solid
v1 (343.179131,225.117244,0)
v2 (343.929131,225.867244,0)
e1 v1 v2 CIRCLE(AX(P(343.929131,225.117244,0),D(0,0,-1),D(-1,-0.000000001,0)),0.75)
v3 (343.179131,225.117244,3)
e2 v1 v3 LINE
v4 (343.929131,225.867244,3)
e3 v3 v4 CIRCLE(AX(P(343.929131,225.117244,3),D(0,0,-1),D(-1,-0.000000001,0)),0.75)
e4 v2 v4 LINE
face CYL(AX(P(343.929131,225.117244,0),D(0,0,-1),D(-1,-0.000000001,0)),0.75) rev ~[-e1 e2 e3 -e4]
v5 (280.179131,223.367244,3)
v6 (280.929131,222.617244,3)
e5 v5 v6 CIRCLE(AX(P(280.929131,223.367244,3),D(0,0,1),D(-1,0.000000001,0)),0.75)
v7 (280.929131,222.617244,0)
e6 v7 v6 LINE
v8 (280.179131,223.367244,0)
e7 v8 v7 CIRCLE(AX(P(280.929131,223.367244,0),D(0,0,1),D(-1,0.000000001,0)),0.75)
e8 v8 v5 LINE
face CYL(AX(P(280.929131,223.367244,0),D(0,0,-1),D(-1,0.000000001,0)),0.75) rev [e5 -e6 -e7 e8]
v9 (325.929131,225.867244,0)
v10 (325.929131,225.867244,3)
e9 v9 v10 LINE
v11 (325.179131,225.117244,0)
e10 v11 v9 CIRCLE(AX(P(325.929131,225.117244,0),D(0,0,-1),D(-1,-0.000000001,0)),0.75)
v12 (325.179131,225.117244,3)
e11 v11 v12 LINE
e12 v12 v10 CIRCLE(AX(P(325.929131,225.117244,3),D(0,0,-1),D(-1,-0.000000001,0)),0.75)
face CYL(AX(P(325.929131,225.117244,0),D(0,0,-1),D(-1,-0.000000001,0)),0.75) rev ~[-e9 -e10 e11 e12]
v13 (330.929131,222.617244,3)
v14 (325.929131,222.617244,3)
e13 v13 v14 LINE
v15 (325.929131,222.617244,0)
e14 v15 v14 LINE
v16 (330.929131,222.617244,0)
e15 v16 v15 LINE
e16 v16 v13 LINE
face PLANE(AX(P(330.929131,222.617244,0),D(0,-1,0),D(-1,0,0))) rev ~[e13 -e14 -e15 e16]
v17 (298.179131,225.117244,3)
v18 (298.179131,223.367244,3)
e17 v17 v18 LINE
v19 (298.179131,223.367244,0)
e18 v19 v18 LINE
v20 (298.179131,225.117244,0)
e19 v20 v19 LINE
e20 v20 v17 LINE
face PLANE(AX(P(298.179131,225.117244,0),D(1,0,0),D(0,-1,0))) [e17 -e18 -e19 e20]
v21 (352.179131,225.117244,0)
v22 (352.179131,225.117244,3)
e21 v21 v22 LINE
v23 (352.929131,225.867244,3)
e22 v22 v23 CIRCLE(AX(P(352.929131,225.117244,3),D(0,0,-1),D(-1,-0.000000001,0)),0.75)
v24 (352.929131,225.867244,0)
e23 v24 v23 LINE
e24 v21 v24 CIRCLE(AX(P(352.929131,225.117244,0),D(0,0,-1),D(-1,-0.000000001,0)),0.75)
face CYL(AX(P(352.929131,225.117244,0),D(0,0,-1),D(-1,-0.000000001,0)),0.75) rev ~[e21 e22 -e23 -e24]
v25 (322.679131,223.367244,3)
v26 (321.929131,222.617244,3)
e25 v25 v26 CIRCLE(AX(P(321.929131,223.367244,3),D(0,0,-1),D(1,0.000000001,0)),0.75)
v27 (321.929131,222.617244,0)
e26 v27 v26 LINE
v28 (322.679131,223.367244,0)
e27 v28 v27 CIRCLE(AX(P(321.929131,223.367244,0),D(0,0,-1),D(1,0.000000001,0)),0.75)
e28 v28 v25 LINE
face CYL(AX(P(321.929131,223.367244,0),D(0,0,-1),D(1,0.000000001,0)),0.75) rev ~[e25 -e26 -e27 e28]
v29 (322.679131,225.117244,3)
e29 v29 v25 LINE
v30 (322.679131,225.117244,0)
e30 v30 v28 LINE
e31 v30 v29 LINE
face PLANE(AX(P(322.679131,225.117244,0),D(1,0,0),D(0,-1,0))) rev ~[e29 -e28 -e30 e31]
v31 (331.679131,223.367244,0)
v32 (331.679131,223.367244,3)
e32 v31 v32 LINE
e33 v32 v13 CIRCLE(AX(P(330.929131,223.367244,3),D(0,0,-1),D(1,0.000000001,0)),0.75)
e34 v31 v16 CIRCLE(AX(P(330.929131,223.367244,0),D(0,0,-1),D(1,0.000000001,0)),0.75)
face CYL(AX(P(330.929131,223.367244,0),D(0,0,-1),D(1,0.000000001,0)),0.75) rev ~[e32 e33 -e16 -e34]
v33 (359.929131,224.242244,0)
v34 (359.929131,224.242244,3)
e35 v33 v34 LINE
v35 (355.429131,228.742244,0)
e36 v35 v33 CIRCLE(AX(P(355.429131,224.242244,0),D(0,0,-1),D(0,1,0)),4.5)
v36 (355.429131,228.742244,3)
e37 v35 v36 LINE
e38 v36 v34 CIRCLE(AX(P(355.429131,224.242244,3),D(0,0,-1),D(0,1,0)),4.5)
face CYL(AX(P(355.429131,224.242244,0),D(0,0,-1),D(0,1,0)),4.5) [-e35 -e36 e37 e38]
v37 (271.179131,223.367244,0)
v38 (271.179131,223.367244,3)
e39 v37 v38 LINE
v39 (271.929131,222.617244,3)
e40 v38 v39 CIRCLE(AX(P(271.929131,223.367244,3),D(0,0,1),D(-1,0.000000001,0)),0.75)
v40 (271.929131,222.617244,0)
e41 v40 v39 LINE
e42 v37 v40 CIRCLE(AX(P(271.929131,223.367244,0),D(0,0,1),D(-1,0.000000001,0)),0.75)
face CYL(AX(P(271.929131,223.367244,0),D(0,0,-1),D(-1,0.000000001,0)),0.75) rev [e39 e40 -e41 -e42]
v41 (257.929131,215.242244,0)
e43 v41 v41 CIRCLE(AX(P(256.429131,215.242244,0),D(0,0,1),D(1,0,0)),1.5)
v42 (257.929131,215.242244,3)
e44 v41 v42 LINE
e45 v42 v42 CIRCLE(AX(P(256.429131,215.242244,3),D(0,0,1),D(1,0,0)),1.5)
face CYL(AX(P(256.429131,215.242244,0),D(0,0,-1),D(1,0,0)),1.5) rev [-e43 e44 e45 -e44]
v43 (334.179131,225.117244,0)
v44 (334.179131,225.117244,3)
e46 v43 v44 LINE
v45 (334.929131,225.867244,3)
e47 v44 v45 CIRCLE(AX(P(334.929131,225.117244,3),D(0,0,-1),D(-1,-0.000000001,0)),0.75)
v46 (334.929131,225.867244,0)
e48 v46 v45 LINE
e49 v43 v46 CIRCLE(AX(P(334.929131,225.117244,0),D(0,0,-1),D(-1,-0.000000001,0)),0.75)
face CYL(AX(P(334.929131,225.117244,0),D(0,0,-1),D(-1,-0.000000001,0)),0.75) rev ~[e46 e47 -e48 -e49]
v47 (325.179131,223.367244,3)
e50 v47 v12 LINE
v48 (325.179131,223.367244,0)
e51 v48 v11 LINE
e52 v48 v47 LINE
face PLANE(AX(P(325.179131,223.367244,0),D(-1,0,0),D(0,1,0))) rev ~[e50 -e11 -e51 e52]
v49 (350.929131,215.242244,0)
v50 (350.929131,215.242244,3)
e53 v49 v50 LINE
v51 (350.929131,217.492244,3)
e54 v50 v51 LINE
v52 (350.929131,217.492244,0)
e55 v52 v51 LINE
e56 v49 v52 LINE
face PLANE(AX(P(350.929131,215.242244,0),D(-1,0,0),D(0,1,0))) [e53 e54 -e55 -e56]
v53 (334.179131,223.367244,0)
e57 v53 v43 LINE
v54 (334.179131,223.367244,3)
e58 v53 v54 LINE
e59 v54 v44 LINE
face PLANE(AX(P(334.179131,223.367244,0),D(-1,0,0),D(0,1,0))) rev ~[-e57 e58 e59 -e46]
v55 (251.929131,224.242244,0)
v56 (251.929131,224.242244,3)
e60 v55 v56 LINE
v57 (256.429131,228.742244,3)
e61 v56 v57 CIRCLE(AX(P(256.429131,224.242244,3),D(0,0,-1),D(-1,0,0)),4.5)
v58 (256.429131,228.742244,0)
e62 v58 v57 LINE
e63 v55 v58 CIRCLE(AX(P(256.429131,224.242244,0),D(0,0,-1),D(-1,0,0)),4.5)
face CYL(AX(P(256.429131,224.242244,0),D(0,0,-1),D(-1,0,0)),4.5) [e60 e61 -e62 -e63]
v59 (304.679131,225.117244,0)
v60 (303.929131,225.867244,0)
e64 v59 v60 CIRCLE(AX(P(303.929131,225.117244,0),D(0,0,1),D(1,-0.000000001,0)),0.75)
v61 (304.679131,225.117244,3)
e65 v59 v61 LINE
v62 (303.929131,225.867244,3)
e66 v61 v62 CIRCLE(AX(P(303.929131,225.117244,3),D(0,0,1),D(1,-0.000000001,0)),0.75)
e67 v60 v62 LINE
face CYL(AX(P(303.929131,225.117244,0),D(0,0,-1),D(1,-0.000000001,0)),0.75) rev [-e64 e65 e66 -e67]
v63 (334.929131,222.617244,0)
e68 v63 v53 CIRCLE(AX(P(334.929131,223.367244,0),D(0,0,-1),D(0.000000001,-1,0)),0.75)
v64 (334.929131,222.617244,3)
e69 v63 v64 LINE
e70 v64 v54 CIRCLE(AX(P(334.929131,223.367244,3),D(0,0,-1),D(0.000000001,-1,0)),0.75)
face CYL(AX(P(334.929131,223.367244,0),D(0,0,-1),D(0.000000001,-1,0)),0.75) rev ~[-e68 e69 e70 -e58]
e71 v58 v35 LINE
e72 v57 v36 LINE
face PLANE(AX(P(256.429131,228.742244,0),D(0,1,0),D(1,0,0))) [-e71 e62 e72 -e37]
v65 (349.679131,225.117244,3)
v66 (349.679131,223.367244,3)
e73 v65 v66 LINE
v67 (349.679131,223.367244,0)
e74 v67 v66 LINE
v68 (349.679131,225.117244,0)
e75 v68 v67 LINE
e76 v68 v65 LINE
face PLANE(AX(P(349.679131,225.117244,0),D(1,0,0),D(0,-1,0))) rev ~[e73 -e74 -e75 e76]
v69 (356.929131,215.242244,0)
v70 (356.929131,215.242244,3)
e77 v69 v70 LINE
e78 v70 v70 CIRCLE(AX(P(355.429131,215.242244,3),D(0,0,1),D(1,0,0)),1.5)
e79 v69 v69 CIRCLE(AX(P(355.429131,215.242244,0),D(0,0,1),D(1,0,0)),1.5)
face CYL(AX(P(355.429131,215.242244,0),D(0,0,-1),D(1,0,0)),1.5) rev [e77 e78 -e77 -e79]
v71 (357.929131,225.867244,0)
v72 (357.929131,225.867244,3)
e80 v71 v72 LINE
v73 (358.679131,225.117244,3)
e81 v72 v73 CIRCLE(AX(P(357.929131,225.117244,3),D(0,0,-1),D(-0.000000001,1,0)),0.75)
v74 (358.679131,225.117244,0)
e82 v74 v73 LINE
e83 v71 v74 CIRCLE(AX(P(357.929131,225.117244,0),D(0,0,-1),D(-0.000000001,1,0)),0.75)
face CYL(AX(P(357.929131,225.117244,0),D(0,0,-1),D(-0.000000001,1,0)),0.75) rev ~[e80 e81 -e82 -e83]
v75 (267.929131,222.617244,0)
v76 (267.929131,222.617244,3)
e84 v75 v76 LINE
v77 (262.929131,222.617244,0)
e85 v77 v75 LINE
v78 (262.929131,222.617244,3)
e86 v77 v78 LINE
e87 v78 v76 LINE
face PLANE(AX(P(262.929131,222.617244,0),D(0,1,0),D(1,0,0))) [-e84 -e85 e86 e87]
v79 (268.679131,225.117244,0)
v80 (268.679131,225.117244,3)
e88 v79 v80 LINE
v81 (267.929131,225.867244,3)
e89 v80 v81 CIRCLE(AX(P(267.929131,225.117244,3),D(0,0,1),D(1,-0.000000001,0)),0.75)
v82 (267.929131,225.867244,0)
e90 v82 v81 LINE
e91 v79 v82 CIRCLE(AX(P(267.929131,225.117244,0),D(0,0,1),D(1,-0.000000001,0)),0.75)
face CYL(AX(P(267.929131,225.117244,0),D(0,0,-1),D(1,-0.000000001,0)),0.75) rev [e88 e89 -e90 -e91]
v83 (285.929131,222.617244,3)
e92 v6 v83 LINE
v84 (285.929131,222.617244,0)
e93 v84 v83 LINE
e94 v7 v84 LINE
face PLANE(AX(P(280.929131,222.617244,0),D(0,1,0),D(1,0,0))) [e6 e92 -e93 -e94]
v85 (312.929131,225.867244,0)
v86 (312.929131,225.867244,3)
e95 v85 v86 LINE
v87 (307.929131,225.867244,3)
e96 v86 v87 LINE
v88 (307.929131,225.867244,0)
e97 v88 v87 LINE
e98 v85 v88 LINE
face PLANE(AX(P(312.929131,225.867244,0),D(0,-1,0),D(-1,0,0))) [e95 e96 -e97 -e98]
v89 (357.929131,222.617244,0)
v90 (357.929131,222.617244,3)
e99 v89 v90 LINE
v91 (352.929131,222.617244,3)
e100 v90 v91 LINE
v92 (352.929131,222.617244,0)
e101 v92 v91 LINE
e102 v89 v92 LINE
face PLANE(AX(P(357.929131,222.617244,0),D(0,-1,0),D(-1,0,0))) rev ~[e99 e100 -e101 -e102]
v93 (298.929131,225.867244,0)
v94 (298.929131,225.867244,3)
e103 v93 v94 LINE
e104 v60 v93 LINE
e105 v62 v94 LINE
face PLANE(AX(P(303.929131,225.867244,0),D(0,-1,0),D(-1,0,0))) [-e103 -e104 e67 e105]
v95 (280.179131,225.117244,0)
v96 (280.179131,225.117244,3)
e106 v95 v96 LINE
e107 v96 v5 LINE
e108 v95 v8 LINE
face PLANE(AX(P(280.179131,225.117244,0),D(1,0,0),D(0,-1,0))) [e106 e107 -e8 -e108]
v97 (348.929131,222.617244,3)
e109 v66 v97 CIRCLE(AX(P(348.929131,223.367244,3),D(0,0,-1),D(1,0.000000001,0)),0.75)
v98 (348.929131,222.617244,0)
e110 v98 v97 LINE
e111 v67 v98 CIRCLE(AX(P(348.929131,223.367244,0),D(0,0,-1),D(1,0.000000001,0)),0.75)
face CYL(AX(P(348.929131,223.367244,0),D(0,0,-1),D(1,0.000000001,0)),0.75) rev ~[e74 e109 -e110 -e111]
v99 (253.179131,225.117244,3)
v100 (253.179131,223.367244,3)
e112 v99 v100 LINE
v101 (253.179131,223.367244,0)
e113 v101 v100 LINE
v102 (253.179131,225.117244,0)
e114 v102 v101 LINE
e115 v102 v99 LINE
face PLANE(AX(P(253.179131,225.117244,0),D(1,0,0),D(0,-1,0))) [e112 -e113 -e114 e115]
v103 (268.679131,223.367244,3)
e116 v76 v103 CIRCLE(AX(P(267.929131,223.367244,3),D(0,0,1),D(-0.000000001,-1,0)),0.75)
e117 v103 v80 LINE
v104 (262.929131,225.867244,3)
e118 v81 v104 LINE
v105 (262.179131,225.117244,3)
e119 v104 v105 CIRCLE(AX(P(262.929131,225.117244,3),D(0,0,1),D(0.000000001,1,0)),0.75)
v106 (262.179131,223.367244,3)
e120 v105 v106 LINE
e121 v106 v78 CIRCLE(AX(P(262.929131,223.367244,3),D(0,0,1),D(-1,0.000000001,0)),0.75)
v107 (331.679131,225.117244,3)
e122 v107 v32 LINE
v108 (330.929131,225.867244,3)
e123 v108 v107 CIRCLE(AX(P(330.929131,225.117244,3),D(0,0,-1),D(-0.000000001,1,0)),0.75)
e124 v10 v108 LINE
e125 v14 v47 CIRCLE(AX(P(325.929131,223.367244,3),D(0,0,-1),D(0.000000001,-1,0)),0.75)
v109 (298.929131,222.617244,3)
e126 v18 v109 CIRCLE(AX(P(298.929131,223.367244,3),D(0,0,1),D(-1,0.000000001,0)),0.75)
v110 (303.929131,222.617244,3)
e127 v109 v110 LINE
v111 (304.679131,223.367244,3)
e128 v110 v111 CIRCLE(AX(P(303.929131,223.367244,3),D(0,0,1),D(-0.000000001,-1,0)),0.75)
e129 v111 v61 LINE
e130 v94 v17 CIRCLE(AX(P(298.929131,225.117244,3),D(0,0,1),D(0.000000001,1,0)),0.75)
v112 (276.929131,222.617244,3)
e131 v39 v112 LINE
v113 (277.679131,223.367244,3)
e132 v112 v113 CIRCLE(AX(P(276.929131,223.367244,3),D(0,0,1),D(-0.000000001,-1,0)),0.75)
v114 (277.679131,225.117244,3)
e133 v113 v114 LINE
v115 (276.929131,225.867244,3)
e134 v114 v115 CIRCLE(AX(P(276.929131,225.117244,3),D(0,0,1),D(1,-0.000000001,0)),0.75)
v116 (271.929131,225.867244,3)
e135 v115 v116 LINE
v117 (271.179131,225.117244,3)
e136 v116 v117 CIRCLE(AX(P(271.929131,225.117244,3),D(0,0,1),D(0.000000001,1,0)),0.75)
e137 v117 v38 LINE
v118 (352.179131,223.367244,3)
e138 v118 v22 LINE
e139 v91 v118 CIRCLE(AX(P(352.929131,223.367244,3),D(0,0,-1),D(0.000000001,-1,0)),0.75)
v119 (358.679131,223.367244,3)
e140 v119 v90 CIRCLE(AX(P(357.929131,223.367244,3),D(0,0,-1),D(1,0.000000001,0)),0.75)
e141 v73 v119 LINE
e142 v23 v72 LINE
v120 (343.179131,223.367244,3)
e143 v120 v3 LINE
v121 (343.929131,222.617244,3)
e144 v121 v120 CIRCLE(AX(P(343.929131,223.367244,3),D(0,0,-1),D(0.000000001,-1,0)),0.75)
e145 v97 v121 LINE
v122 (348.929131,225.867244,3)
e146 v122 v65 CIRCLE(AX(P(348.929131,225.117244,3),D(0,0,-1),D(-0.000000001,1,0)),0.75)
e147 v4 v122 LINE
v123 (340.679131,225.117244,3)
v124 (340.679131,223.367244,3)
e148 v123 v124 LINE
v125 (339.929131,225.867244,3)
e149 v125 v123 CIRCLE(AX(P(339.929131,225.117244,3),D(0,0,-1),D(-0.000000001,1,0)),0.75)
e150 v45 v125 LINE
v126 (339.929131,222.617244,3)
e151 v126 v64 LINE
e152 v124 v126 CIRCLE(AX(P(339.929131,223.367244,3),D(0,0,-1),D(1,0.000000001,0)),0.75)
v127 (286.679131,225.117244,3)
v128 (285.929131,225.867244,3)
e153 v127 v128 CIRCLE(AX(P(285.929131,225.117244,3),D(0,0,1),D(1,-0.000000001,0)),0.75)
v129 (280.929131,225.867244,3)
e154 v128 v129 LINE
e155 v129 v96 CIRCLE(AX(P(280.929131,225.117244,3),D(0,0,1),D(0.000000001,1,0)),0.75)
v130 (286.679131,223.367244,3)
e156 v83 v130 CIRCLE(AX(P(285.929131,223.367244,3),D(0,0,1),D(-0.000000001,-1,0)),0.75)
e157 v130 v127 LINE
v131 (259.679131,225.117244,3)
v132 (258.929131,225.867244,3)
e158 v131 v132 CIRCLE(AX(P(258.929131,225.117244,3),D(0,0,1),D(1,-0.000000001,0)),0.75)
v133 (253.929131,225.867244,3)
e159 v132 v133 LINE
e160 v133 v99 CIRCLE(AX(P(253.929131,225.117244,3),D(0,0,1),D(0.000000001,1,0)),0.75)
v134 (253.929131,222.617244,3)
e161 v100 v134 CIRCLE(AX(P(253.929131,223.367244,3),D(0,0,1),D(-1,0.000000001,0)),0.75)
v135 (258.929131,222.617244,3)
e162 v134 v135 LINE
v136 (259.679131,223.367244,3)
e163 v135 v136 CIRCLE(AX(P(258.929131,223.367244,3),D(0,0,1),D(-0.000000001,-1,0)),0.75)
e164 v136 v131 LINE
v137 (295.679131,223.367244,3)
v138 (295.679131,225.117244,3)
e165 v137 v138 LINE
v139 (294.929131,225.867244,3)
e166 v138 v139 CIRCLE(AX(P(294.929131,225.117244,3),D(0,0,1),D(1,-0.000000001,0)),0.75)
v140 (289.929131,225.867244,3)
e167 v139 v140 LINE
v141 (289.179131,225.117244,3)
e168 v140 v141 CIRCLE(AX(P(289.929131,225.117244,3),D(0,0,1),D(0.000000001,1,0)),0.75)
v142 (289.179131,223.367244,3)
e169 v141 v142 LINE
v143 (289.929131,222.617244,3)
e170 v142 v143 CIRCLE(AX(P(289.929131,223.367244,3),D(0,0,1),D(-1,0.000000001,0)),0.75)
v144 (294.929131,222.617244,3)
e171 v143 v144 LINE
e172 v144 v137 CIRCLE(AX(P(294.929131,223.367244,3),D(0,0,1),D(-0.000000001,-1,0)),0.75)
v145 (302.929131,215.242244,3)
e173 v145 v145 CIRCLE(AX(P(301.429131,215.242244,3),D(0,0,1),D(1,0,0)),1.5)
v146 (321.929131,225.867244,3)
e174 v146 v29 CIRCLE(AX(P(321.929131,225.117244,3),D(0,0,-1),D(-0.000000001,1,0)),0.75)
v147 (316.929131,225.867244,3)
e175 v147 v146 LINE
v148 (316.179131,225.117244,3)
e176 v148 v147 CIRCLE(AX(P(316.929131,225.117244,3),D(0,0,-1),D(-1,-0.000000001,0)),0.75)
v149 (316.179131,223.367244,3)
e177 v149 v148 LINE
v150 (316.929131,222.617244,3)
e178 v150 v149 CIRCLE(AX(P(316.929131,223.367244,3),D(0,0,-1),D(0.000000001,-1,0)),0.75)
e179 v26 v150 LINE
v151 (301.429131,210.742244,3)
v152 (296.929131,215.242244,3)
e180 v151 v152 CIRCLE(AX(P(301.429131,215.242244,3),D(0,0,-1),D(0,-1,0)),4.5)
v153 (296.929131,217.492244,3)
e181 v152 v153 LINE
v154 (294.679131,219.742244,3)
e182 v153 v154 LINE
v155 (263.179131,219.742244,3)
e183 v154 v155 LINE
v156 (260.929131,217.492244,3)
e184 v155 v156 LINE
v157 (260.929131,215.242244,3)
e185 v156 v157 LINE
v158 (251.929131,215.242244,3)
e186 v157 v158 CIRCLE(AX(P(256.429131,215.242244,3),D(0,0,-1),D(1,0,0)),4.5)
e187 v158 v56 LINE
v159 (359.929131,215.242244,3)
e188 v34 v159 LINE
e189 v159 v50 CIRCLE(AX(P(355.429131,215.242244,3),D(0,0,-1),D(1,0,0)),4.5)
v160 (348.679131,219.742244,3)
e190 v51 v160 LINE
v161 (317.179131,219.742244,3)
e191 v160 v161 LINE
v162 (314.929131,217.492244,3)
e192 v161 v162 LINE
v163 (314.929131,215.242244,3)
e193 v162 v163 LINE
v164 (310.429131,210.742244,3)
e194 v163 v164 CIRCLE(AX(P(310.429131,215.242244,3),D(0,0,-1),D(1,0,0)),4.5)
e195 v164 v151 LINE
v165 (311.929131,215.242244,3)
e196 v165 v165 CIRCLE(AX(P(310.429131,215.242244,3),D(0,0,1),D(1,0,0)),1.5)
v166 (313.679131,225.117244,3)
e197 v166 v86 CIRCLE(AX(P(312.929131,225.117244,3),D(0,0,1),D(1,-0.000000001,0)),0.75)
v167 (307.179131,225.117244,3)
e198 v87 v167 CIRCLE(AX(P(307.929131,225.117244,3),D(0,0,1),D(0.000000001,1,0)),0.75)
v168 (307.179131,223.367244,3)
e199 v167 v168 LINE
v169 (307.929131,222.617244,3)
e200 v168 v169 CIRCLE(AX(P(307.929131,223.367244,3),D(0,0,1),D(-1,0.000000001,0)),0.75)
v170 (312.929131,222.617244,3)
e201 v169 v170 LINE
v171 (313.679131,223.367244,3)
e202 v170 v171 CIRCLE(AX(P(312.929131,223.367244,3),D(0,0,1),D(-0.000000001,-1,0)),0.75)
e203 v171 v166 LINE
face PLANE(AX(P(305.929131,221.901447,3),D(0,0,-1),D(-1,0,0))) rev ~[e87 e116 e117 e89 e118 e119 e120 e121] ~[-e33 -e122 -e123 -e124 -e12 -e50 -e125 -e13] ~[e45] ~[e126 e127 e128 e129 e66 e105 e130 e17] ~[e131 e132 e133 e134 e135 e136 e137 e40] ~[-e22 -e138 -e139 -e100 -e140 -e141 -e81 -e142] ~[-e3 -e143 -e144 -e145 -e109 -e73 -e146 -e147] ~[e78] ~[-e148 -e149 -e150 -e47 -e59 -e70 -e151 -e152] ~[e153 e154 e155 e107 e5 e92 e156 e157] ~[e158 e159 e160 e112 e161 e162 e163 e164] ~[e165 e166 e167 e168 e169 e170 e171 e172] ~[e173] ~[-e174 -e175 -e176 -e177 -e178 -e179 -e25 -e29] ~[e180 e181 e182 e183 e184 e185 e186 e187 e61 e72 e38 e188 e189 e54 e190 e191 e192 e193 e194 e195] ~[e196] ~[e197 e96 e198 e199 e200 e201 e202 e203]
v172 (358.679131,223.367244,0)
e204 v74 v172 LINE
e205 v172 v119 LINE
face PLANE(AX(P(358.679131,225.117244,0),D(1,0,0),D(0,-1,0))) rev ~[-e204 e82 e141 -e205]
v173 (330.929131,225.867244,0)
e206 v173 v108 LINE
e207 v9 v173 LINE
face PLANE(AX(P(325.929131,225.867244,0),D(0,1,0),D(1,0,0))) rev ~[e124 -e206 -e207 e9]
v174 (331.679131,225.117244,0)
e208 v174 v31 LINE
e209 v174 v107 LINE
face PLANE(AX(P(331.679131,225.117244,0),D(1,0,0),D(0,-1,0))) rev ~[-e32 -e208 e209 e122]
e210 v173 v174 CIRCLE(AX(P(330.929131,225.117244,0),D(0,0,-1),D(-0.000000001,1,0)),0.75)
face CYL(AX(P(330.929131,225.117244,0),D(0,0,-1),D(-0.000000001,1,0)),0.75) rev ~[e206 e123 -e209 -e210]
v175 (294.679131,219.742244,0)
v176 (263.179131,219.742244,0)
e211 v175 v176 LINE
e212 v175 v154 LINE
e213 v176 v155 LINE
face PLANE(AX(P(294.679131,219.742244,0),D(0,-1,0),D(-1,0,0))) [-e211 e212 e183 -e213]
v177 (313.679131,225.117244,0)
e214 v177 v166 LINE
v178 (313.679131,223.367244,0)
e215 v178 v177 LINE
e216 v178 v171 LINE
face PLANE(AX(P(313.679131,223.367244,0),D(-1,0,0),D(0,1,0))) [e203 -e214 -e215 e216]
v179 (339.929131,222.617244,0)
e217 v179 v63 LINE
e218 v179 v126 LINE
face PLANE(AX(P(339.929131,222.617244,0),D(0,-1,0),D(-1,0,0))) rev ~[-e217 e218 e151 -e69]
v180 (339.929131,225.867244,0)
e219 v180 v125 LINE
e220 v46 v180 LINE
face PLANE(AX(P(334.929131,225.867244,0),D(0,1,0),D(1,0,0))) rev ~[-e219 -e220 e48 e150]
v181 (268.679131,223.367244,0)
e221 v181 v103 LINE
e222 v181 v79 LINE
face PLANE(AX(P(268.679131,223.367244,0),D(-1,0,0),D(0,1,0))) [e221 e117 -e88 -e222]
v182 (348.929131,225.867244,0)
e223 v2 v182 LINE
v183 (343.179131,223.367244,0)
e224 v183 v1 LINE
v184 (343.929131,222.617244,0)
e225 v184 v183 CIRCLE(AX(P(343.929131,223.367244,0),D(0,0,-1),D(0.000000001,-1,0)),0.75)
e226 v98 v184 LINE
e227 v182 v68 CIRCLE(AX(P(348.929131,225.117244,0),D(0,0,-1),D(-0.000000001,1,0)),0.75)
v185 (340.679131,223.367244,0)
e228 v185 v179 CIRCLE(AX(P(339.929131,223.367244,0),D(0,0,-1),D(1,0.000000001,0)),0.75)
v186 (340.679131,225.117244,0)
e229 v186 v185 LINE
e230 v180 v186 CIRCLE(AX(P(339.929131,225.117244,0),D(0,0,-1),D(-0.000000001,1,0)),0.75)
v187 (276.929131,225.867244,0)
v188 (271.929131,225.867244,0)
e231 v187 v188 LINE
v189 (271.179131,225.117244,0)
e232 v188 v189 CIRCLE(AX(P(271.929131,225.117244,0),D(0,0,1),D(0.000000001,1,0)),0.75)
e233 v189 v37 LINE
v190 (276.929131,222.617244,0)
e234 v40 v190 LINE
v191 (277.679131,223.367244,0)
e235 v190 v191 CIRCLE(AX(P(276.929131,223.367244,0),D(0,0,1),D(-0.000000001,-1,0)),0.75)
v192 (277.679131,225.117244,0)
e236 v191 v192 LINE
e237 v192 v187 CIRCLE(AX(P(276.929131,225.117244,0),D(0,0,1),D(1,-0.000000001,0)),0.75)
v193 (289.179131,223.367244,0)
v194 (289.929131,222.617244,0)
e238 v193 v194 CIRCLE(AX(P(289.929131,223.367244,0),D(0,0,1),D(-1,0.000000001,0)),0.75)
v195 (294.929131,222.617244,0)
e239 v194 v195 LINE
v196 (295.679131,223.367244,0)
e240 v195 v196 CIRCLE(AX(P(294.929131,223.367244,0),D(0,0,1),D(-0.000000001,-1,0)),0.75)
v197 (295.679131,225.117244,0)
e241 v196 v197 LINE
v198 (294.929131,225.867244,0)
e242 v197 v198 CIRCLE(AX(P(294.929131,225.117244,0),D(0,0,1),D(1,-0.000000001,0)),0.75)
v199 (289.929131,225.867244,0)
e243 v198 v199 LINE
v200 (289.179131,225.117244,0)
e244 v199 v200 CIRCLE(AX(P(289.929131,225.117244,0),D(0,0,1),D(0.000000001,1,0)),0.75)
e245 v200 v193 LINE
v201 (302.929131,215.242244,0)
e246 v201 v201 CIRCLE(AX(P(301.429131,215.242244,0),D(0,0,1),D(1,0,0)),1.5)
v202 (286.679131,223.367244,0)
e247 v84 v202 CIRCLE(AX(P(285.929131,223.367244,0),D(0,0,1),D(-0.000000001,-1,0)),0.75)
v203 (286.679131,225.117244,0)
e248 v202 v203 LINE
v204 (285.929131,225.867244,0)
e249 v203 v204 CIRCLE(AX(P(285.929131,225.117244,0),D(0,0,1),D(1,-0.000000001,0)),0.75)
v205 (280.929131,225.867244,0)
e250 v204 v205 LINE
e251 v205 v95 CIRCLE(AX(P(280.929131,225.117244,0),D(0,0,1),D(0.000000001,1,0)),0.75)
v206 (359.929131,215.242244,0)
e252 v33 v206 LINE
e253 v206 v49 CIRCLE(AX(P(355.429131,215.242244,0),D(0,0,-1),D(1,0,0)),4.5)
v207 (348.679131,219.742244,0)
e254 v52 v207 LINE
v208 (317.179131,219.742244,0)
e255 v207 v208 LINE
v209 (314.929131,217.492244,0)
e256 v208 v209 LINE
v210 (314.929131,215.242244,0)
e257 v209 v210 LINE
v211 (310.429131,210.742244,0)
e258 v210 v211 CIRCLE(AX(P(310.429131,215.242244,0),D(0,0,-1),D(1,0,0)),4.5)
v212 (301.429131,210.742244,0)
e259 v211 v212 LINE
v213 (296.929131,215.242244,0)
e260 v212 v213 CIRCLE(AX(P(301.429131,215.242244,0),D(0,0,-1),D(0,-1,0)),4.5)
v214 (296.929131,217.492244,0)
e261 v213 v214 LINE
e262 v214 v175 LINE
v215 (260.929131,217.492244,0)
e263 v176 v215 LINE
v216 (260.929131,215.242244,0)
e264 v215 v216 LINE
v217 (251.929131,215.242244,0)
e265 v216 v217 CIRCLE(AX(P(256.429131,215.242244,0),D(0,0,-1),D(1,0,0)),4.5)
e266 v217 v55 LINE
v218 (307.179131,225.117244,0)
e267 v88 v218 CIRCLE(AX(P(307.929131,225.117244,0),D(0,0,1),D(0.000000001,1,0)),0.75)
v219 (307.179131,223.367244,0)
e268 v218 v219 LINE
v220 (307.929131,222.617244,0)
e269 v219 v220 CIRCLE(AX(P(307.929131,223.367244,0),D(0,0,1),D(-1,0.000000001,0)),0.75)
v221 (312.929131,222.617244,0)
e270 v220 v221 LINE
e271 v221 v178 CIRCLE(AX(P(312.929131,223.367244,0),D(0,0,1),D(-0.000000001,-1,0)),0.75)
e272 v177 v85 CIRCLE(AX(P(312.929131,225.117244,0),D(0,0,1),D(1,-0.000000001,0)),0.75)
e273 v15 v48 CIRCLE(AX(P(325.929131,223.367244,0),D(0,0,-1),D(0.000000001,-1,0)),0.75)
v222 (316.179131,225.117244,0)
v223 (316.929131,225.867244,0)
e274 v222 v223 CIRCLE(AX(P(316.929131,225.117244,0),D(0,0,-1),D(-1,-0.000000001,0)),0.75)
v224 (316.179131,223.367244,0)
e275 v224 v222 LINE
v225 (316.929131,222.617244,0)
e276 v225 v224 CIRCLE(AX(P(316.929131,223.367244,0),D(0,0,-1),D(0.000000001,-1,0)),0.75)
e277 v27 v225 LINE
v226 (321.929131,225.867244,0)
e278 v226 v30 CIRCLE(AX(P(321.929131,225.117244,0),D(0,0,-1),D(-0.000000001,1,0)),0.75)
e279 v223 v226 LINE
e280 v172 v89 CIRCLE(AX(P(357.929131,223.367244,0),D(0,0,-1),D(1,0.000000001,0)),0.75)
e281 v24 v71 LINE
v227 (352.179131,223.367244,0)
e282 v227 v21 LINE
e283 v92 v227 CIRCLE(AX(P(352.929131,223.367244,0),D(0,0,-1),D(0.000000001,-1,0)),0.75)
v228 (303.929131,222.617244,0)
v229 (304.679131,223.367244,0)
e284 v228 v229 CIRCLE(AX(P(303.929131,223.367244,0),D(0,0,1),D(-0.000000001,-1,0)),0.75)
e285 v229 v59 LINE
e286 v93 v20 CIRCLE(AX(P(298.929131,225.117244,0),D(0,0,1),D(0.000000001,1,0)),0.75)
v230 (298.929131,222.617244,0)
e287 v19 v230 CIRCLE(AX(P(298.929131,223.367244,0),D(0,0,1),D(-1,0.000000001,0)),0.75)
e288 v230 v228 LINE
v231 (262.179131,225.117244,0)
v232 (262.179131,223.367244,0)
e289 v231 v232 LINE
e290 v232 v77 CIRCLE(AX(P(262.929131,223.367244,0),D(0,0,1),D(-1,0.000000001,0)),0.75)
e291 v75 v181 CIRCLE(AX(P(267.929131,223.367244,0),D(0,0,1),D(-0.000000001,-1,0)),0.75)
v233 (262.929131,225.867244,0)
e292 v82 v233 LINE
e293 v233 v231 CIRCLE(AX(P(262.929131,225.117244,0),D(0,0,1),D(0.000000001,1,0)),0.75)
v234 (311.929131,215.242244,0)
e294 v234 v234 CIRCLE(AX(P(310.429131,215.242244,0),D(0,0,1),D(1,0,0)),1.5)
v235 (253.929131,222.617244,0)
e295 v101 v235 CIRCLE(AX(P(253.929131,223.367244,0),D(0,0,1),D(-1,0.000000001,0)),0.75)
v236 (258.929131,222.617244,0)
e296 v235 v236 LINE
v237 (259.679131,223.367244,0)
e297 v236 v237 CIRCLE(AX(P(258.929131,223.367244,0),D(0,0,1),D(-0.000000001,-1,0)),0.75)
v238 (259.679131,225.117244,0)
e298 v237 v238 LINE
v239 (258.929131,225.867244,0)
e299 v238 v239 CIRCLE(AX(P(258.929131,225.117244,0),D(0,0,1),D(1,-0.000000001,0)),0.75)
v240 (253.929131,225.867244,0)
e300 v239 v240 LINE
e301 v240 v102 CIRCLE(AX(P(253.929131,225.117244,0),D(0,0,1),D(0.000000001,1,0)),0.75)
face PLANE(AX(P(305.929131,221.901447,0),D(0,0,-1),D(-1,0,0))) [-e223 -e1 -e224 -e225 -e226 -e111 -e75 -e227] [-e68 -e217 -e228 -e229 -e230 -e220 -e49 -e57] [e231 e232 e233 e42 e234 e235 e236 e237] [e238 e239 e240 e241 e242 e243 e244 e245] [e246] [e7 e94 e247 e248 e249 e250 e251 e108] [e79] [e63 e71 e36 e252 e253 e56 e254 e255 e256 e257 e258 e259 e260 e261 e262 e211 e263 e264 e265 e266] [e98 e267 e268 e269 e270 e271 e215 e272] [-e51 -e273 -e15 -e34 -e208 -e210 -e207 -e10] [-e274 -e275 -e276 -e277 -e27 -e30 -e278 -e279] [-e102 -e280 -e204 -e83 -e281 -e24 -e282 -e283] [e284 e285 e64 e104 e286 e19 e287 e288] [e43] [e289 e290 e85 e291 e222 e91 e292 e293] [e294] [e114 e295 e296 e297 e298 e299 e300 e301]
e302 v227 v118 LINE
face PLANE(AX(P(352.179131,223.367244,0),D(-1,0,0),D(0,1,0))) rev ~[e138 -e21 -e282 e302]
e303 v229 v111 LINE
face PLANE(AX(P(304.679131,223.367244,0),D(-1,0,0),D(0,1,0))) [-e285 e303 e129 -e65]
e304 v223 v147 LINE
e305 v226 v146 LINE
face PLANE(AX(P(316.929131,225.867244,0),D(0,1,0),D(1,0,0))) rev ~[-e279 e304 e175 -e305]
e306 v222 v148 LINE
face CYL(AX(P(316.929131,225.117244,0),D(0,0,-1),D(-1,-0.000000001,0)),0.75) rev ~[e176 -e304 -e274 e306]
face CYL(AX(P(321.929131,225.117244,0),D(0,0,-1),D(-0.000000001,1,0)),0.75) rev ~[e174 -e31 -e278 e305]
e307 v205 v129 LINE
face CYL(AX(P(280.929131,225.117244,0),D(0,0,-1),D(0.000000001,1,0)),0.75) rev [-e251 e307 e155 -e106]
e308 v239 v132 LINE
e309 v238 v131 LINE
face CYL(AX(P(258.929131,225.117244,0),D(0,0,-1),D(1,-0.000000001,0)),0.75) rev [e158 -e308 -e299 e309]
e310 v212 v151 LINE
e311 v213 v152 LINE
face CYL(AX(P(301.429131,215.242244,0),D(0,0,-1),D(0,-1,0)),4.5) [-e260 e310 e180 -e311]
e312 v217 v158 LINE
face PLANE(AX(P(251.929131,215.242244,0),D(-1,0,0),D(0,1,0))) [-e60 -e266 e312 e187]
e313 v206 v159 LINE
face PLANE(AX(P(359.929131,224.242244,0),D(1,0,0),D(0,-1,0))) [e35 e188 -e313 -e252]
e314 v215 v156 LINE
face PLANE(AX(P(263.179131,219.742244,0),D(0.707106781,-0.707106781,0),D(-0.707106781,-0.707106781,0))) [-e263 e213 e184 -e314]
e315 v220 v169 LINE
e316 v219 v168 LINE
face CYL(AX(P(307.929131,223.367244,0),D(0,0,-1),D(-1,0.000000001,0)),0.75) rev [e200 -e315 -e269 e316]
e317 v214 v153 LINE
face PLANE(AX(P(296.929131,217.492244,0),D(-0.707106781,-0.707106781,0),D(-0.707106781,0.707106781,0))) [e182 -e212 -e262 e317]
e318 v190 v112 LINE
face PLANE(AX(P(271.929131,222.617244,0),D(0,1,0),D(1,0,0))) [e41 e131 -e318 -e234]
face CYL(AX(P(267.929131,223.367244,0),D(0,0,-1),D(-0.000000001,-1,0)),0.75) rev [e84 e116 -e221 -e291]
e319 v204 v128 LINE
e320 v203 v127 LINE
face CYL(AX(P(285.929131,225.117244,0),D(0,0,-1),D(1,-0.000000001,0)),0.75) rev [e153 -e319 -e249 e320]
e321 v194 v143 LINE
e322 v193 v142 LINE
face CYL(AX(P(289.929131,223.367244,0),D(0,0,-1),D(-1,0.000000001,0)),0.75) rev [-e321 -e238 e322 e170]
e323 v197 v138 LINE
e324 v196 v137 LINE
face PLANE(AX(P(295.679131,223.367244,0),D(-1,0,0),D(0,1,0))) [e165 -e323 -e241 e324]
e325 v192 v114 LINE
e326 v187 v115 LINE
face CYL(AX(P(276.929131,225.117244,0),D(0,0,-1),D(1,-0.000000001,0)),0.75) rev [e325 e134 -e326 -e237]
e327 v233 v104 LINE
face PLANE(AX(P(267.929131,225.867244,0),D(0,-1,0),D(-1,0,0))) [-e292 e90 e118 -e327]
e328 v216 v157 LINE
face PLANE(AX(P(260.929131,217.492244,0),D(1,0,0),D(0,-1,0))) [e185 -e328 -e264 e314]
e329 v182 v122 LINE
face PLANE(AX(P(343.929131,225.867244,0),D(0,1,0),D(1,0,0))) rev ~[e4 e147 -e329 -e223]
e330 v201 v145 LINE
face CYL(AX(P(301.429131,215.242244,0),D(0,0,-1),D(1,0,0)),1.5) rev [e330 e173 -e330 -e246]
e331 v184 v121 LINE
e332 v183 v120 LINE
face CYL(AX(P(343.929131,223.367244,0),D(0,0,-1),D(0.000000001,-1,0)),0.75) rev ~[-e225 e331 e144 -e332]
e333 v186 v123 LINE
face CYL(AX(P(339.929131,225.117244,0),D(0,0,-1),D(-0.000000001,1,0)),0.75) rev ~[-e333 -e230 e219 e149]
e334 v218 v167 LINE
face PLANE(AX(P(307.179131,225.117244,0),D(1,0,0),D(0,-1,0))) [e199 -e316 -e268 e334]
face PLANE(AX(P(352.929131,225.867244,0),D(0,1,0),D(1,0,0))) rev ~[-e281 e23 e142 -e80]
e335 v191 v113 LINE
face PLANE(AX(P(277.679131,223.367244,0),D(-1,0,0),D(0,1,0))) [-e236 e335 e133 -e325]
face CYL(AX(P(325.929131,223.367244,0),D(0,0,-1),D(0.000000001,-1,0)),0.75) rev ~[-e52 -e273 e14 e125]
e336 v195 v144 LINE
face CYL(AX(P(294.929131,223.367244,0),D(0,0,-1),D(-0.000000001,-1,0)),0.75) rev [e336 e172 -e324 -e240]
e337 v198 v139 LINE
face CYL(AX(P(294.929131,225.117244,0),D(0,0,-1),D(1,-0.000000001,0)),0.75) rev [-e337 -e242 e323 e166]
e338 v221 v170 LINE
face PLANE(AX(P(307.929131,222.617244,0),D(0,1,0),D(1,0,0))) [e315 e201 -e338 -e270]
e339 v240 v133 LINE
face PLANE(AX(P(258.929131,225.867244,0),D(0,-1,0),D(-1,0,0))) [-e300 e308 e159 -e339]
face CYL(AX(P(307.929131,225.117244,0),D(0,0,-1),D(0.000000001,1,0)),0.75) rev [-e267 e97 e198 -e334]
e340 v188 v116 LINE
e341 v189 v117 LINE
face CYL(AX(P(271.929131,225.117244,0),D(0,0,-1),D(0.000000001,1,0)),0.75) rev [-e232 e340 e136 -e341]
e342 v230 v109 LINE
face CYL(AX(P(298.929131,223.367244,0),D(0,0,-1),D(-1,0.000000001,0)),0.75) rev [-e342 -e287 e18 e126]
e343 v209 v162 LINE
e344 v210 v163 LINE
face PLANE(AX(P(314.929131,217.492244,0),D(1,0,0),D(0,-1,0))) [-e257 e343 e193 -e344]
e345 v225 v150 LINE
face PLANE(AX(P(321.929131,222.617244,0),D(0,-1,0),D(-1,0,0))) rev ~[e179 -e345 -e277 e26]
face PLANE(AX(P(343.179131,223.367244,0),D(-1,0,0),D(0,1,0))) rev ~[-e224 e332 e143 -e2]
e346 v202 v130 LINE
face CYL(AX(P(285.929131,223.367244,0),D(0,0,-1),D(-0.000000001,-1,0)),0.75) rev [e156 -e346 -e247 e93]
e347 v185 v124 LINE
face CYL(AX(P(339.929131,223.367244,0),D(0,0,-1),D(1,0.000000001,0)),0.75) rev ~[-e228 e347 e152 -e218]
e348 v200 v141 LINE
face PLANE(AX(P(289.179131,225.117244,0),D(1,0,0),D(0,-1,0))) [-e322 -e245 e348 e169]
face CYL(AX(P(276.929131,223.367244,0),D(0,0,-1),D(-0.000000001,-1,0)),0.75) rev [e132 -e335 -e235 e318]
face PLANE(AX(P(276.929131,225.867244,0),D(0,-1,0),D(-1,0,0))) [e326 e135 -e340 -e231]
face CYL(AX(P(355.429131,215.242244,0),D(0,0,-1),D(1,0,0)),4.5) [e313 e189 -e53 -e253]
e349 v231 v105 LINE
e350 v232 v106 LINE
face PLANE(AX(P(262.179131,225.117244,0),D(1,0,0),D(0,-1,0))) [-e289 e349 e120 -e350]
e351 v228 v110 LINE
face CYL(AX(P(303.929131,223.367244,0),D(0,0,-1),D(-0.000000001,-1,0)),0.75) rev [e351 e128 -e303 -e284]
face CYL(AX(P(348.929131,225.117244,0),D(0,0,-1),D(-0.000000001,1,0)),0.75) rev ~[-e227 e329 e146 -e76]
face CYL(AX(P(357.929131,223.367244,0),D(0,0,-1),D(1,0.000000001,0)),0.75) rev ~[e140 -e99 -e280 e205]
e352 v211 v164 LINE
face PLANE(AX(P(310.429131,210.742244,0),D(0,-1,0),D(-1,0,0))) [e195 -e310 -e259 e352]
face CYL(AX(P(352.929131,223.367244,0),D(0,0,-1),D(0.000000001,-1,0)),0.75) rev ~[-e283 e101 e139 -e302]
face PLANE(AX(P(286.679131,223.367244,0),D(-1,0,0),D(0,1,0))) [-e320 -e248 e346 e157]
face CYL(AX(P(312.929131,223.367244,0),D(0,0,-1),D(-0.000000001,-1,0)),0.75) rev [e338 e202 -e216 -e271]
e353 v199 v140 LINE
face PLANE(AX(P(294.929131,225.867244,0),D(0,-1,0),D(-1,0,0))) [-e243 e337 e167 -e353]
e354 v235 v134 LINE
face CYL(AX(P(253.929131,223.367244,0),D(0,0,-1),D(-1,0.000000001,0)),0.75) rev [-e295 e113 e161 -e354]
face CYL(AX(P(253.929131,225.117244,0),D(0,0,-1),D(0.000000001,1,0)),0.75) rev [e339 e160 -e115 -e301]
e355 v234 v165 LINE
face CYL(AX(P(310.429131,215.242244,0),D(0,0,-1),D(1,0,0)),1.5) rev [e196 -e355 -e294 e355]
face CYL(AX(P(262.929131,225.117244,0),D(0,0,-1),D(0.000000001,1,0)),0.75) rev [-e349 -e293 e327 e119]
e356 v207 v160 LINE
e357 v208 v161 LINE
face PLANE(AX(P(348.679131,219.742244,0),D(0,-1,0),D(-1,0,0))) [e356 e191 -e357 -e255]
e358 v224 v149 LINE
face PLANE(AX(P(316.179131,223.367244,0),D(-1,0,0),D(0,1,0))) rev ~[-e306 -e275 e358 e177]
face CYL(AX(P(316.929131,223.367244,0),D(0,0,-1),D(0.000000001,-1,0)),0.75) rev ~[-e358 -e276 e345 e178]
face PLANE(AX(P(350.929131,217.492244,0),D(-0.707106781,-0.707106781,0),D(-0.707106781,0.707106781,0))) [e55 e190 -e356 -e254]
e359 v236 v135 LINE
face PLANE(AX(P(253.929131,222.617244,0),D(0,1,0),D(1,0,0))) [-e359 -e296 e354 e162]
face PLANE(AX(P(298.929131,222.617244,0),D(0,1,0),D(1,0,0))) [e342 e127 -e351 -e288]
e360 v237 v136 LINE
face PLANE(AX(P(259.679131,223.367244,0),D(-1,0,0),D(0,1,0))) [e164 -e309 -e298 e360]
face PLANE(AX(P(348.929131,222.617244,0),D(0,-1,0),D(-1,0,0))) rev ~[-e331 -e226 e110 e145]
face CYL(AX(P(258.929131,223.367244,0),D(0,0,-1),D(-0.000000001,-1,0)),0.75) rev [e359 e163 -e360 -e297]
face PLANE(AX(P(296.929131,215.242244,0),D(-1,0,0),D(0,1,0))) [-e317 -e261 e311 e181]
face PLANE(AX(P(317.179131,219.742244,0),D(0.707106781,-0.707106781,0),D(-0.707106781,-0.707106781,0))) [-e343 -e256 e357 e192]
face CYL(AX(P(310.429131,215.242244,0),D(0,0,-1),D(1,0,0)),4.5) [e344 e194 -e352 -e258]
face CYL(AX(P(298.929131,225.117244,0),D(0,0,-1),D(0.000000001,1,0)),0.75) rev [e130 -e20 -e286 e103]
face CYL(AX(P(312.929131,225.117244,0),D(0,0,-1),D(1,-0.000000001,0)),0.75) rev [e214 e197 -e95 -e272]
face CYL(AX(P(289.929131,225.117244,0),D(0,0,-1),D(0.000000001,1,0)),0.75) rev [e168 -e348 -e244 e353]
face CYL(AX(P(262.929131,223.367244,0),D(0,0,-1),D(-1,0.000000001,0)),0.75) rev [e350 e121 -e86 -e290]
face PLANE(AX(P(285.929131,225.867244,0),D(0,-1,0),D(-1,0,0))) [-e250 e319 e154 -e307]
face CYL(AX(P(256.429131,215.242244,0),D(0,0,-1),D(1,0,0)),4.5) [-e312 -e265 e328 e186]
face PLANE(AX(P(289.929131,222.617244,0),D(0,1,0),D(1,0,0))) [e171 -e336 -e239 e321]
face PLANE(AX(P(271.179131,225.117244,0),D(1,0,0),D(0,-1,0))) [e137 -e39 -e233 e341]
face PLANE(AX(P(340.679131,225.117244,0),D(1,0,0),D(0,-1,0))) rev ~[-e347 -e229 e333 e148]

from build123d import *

# Parameters (mm, degrees)
MODEL_R                 = 1.5
SALIENTE_EXTRUIR1_DEPTH = 3


with BuildPart() as part:
    # Model → Saliente-Extruir1 (new body)
    with BuildSketch(Plane.XY):
        with BuildLine():
            Line((256.429131311, 228.742243614), (355.429131311, 228.742243614))
            ThreePointArc((355.429131311, 228.742243614), (358.611111826, 227.424224129), (359.929131311, 224.242243614))
            Line((359.929131311, 224.242243614), (359.929131311, 215.242243614))
            ThreePointArc((359.929131311, 215.242243614), (355.429131311, 210.742243614), (350.929131311, 215.242243614))
            Line((350.929131311, 215.242243614), (350.929131311, 217.492243614))
            Line((350.929131311, 217.492243614), (348.679131311, 219.742243614))
            Line((348.679131311, 219.742243614), (317.179131311, 219.742243614))
            Line((317.179131311, 219.742243614), (314.929131311, 217.492243614))
            Line((314.929131311, 217.492243614), (314.929131311, 215.242243614))
            ThreePointArc((314.929131311, 215.242243614), (313.611111826, 212.060263099), (310.429131311, 210.742243614))
            Line((310.429131311, 210.742243614), (301.429131311, 210.742243614))
            ThreePointArc((301.429131311, 210.742243614), (298.247150795, 212.060263099), (296.929131311, 215.242243614))
            Line((296.929131311, 215.242243614), (296.929131311, 217.492243614))
            Line((296.929131311, 217.492243614), (294.679131311, 219.742243614))
            Line((294.679131311, 219.742243614), (263.179131311, 219.742243614))
            Line((263.179131311, 219.742243614), (260.929131311, 217.492243614))
            Line((260.929131311, 217.492243614), (260.929131311, 215.242243614))
            ThreePointArc((260.929131311, 215.242243614), (256.429131311, 210.742243614), (251.929131311, 215.242243614))
            Line((251.929131311, 215.242243614), (251.929131311, 224.242243614))
            ThreePointArc((251.929131311, 224.242243614), (253.247150795, 227.424224129), (256.429131311, 228.742243614))
        make_face()
        with Locations((301.429131311, 215.242243614)):
            Circle(MODEL_R, mode=Mode.SUBTRACT)
        with Locations((355.429131311, 215.242243614)):
            Circle(MODEL_R, mode=Mode.SUBTRACT)
        with Locations((256.429131311, 215.242243614)):
            Circle(MODEL_R, mode=Mode.SUBTRACT)
        with Locations((310.429131311, 215.242243614)):
            Circle(MODEL_R, mode=Mode.SUBTRACT)
        with BuildLine():
            Line((321.929131311, 222.617243614), (316.929131311, 222.617243614))
            ThreePointArc((316.929131311, 222.617243614), (316.398801225, 222.836913528), (316.179131311, 223.367243614))
            Line((316.179131311, 223.367243614), (316.179131311, 225.117243614))
            ThreePointArc((316.179131311, 225.117243614), (316.398801225, 225.6475737), (316.929131311, 225.867243614))
            Line((316.929131311, 225.867243614), (321.929131311, 225.867243614))
            ThreePointArc((321.929131311, 225.867243614), (322.459461397, 225.6475737), (322.679131311, 225.117243614))
            Line((322.679131311, 225.117243614), (322.679131311, 223.367243614))
            ThreePointArc((322.679131311, 223.367243614), (322.459461397, 222.836913528), (321.929131311, 222.617243614))
        make_face(mode=Mode.SUBTRACT)
        with BuildLine():
            Line((357.929131311, 222.617243614), (352.929131311, 222.617243614))
            ThreePointArc((352.929131311, 222.617243614), (352.398801225, 222.836913528), (352.179131311, 223.367243614))
            Line((352.179131311, 223.367243614), (352.179131311, 225.117243614))
            ThreePointArc((352.179131311, 225.117243614), (352.398801225, 225.6475737), (352.929131311, 225.867243614))
            Line((352.929131311, 225.867243614), (357.929131311, 225.867243614))
            ThreePointArc((357.929131311, 225.867243614), (358.459461397, 225.6475737), (358.679131311, 225.117243614))
            Line((358.679131311, 225.117243614), (358.679131311, 223.367243614))
            ThreePointArc((358.679131311, 223.367243614), (358.459461397, 222.836913528), (357.929131311, 222.617243614))
        make_face(mode=Mode.SUBTRACT)
        with BuildLine():
            Line((348.929131311, 222.617243614), (343.929131311, 222.617243614))
            ThreePointArc((343.929131311, 222.617243614), (343.398801225, 222.836913528), (343.179131311, 223.367243614))
            Line((343.179131311, 223.367243614), (343.179131311, 225.117243614))
            ThreePointArc((343.179131311, 225.117243614), (343.398801225, 225.6475737), (343.929131311, 225.867243614))
            Line((343.929131311, 225.867243614), (348.929131311, 225.867243614))
            ThreePointArc((348.929131311, 225.867243614), (349.459461397, 225.6475737), (349.679131311, 225.117243614))
            Line((349.679131311, 225.117243614), (349.679131311, 223.367243614))
            ThreePointArc((349.679131311, 223.367243614), (349.459461397, 222.836913528), (348.929131311, 222.617243614))
        make_face(mode=Mode.SUBTRACT)
        with BuildLine():
            Line((339.929131311, 222.617243614), (334.929131311, 222.617243614))
            ThreePointArc((334.929131311, 222.617243614), (334.398801225, 222.836913528), (334.179131311, 223.367243614))
            Line((334.179131311, 223.367243614), (334.179131311, 225.117243614))
            ThreePointArc((334.179131311, 225.117243614), (334.398801225, 225.6475737), (334.929131311, 225.867243614))
            Line((334.929131311, 225.867243614), (339.929131311, 225.867243614))
            ThreePointArc((339.929131311, 225.867243614), (340.459461397, 225.6475737), (340.679131311, 225.117243614))
            Line((340.679131311, 225.117243614), (340.679131311, 223.367243614))
            ThreePointArc((340.679131311, 223.367243614), (340.459461397, 222.836913528), (339.929131311, 222.617243614))
        make_face(mode=Mode.SUBTRACT)
        with BuildLine():
            Line((330.929131311, 222.617243614), (325.929131311, 222.617243614))
            ThreePointArc((325.929131311, 222.617243614), (325.398801225, 222.836913528), (325.179131311, 223.367243614))
            Line((325.179131311, 223.367243614), (325.179131311, 225.117243614))
            ThreePointArc((325.179131311, 225.117243614), (325.398801225, 225.6475737), (325.929131311, 225.867243614))
            Line((325.929131311, 225.867243614), (330.929131311, 225.867243614))
            ThreePointArc((330.929131311, 225.867243614), (331.459461397, 225.6475737), (331.679131311, 225.117243614))
            Line((331.679131311, 225.117243614), (331.679131311, 223.367243614))
            ThreePointArc((331.679131311, 223.367243614), (331.459461397, 222.836913528), (330.929131311, 222.617243614))
        make_face(mode=Mode.SUBTRACT)
        with BuildLine():
            Line((289.929131311, 222.617243614), (294.929131311, 222.617243614))
            ThreePointArc((294.929131311, 222.617243614), (295.459461397, 222.836913528), (295.679131311, 223.367243614))
            Line((295.679131311, 223.367243614), (295.679131311, 225.117243614))
            ThreePointArc((295.679131311, 225.117243614), (295.459461397, 225.6475737), (294.929131311, 225.867243614))
            Line((294.929131311, 225.867243614), (289.929131311, 225.867243614))
            ThreePointArc((289.929131311, 225.867243614), (289.398801225, 225.6475737), (289.179131311, 225.117243614))
            Line((289.179131311, 225.117243614), (289.179131311, 223.367243614))
            ThreePointArc((289.179131311, 223.367243614), (289.398801225, 222.836913528), (289.929131311, 222.617243614))
        make_face(mode=Mode.SUBTRACT)
        with BuildLine():
            Line((253.929131311, 222.617243614), (258.929131311, 222.617243614))
            ThreePointArc((258.929131311, 222.617243614), (259.459461397, 222.836913528), (259.679131311, 223.367243614))
            Line((259.679131311, 223.367243614), (259.679131311, 225.117243614))
            ThreePointArc((259.679131311, 225.117243614), (259.459461397, 225.6475737), (258.929131311, 225.867243614))
            Line((258.929131311, 225.867243614), (253.929131311, 225.867243614))
            ThreePointArc((253.929131311, 225.867243614), (253.398801225, 225.6475737), (253.179131311, 225.117243614))
            Line((253.179131311, 225.117243614), (253.179131311, 223.367243614))
            ThreePointArc((253.179131311, 223.367243614), (253.398801225, 222.836913528), (253.929131311, 222.617243614))
        make_face(mode=Mode.SUBTRACT)
        with BuildLine():
            Line((262.929131311, 222.617243614), (267.929131311, 222.617243614))
            ThreePointArc((267.929131311, 222.617243614), (268.459461397, 222.836913528), (268.679131311, 223.367243614))
            Line((268.679131311, 223.367243614), (268.679131311, 225.117243614))
            ThreePointArc((268.679131311, 225.117243614), (268.459461397, 225.6475737), (267.929131311, 225.867243614))
            Line((267.929131311, 225.867243614), (262.929131311, 225.867243614))
            ThreePointArc((262.929131311, 225.867243614), (262.398801225, 225.6475737), (262.179131311, 225.117243614))
            Line((262.179131311, 225.117243614), (262.179131311, 223.367243614))
            ThreePointArc((262.179131311, 223.367243614), (262.398801225, 222.836913528), (262.929131311, 222.617243614))
        make_face(mode=Mode.SUBTRACT)
        with BuildLine():
            Line((271.929131311, 222.617243614), (276.929131311, 222.617243614))
            ThreePointArc((276.929131311, 222.617243614), (277.459461397, 222.836913528), (277.679131311, 223.367243614))
            Line((277.679131311, 223.367243614), (277.679131311, 225.117243614))
            ThreePointArc((277.679131311, 225.117243614), (277.459461397, 225.6475737), (276.929131311, 225.867243614))
            Line((276.929131311, 225.867243614), (271.929131311, 225.867243614))
            ThreePointArc((271.929131311, 225.867243614), (271.398801225, 225.6475737), (271.179131311, 225.117243614))
            Line((271.179131311, 225.117243614), (271.179131311, 223.367243614))
            ThreePointArc((271.179131311, 223.367243614), (271.398801225, 222.836913528), (271.929131311, 222.617243614))
        make_face(mode=Mode.SUBTRACT)
        with BuildLine():
            Line((280.929131311, 222.617243614), (285.929131311, 222.617243614))
            ThreePointArc((285.929131311, 222.617243614), (286.459461397, 222.836913528), (286.679131311, 223.367243614))
            Line((286.679131311, 223.367243614), (286.679131311, 225.117243614))
            ThreePointArc((286.679131311, 225.117243614), (286.459461397, 225.6475737), (285.929131311, 225.867243614))
            Line((285.929131311, 225.867243614), (280.929131311, 225.867243614))
            ThreePointArc((280.929131311, 225.867243614), (280.398801225, 225.6475737), (280.179131311, 225.117243614))
            Line((280.179131311, 225.117243614), (280.179131311, 223.367243614))
            ThreePointArc((280.179131311, 223.367243614), (280.398801225, 222.836913528), (280.929131311, 222.617243614))
        make_face(mode=Mode.SUBTRACT)
        with BuildLine():
            Line((307.929131311, 222.617243614), (312.929131311, 222.617243614))
            ThreePointArc((312.929131311, 222.617243614), (313.459461397, 222.836913528), (313.679131311, 223.367243614))
            Line((313.679131311, 223.367243614), (313.679131311, 225.117243614))
            ThreePointArc((313.679131311, 225.117243614), (313.459461397, 225.6475737), (312.929131311, 225.867243614))
            Line((312.929131311, 225.867243614), (307.929131311, 225.867243614))
            ThreePointArc((307.929131311, 225.867243614), (307.398801225, 225.6475737), (307.179131311, 225.117243614))
            Line((307.179131311, 225.117243614), (307.179131311, 223.367243614))
            ThreePointArc((307.179131311, 223.367243614), (307.398801225, 222.836913528), (307.929131311, 222.617243614))
        make_face(mode=Mode.SUBTRACT)
        with BuildLine():
            Line((298.929131311, 222.617243614), (303.929131311, 222.617243614))
            ThreePointArc((303.929131311, 222.617243614), (304.459461397, 222.836913528), (304.679131311, 223.367243614))
            Line((304.679131311, 223.367243614), (304.679131311, 225.117243614))
            ThreePointArc((304.679131311, 225.117243614), (304.459461397, 225.6475737), (303.929131311, 225.867243614))
            Line((303.929131311, 225.867243614), (298.929131311, 225.867243614))
            ThreePointArc((298.929131311, 225.867243614), (298.398801225, 225.6475737), (298.179131311, 225.117243614))
            Line((298.179131311, 225.117243614), (298.179131311, 223.367243614))
            ThreePointArc((298.179131311, 223.367243614), (298.398801225, 222.836913528), (298.929131311, 222.617243614))
        make_face(mode=Mode.SUBTRACT)
    extrude(amount=SALIENTE_EXTRUIR1_DEPTH)


solid = part.part
